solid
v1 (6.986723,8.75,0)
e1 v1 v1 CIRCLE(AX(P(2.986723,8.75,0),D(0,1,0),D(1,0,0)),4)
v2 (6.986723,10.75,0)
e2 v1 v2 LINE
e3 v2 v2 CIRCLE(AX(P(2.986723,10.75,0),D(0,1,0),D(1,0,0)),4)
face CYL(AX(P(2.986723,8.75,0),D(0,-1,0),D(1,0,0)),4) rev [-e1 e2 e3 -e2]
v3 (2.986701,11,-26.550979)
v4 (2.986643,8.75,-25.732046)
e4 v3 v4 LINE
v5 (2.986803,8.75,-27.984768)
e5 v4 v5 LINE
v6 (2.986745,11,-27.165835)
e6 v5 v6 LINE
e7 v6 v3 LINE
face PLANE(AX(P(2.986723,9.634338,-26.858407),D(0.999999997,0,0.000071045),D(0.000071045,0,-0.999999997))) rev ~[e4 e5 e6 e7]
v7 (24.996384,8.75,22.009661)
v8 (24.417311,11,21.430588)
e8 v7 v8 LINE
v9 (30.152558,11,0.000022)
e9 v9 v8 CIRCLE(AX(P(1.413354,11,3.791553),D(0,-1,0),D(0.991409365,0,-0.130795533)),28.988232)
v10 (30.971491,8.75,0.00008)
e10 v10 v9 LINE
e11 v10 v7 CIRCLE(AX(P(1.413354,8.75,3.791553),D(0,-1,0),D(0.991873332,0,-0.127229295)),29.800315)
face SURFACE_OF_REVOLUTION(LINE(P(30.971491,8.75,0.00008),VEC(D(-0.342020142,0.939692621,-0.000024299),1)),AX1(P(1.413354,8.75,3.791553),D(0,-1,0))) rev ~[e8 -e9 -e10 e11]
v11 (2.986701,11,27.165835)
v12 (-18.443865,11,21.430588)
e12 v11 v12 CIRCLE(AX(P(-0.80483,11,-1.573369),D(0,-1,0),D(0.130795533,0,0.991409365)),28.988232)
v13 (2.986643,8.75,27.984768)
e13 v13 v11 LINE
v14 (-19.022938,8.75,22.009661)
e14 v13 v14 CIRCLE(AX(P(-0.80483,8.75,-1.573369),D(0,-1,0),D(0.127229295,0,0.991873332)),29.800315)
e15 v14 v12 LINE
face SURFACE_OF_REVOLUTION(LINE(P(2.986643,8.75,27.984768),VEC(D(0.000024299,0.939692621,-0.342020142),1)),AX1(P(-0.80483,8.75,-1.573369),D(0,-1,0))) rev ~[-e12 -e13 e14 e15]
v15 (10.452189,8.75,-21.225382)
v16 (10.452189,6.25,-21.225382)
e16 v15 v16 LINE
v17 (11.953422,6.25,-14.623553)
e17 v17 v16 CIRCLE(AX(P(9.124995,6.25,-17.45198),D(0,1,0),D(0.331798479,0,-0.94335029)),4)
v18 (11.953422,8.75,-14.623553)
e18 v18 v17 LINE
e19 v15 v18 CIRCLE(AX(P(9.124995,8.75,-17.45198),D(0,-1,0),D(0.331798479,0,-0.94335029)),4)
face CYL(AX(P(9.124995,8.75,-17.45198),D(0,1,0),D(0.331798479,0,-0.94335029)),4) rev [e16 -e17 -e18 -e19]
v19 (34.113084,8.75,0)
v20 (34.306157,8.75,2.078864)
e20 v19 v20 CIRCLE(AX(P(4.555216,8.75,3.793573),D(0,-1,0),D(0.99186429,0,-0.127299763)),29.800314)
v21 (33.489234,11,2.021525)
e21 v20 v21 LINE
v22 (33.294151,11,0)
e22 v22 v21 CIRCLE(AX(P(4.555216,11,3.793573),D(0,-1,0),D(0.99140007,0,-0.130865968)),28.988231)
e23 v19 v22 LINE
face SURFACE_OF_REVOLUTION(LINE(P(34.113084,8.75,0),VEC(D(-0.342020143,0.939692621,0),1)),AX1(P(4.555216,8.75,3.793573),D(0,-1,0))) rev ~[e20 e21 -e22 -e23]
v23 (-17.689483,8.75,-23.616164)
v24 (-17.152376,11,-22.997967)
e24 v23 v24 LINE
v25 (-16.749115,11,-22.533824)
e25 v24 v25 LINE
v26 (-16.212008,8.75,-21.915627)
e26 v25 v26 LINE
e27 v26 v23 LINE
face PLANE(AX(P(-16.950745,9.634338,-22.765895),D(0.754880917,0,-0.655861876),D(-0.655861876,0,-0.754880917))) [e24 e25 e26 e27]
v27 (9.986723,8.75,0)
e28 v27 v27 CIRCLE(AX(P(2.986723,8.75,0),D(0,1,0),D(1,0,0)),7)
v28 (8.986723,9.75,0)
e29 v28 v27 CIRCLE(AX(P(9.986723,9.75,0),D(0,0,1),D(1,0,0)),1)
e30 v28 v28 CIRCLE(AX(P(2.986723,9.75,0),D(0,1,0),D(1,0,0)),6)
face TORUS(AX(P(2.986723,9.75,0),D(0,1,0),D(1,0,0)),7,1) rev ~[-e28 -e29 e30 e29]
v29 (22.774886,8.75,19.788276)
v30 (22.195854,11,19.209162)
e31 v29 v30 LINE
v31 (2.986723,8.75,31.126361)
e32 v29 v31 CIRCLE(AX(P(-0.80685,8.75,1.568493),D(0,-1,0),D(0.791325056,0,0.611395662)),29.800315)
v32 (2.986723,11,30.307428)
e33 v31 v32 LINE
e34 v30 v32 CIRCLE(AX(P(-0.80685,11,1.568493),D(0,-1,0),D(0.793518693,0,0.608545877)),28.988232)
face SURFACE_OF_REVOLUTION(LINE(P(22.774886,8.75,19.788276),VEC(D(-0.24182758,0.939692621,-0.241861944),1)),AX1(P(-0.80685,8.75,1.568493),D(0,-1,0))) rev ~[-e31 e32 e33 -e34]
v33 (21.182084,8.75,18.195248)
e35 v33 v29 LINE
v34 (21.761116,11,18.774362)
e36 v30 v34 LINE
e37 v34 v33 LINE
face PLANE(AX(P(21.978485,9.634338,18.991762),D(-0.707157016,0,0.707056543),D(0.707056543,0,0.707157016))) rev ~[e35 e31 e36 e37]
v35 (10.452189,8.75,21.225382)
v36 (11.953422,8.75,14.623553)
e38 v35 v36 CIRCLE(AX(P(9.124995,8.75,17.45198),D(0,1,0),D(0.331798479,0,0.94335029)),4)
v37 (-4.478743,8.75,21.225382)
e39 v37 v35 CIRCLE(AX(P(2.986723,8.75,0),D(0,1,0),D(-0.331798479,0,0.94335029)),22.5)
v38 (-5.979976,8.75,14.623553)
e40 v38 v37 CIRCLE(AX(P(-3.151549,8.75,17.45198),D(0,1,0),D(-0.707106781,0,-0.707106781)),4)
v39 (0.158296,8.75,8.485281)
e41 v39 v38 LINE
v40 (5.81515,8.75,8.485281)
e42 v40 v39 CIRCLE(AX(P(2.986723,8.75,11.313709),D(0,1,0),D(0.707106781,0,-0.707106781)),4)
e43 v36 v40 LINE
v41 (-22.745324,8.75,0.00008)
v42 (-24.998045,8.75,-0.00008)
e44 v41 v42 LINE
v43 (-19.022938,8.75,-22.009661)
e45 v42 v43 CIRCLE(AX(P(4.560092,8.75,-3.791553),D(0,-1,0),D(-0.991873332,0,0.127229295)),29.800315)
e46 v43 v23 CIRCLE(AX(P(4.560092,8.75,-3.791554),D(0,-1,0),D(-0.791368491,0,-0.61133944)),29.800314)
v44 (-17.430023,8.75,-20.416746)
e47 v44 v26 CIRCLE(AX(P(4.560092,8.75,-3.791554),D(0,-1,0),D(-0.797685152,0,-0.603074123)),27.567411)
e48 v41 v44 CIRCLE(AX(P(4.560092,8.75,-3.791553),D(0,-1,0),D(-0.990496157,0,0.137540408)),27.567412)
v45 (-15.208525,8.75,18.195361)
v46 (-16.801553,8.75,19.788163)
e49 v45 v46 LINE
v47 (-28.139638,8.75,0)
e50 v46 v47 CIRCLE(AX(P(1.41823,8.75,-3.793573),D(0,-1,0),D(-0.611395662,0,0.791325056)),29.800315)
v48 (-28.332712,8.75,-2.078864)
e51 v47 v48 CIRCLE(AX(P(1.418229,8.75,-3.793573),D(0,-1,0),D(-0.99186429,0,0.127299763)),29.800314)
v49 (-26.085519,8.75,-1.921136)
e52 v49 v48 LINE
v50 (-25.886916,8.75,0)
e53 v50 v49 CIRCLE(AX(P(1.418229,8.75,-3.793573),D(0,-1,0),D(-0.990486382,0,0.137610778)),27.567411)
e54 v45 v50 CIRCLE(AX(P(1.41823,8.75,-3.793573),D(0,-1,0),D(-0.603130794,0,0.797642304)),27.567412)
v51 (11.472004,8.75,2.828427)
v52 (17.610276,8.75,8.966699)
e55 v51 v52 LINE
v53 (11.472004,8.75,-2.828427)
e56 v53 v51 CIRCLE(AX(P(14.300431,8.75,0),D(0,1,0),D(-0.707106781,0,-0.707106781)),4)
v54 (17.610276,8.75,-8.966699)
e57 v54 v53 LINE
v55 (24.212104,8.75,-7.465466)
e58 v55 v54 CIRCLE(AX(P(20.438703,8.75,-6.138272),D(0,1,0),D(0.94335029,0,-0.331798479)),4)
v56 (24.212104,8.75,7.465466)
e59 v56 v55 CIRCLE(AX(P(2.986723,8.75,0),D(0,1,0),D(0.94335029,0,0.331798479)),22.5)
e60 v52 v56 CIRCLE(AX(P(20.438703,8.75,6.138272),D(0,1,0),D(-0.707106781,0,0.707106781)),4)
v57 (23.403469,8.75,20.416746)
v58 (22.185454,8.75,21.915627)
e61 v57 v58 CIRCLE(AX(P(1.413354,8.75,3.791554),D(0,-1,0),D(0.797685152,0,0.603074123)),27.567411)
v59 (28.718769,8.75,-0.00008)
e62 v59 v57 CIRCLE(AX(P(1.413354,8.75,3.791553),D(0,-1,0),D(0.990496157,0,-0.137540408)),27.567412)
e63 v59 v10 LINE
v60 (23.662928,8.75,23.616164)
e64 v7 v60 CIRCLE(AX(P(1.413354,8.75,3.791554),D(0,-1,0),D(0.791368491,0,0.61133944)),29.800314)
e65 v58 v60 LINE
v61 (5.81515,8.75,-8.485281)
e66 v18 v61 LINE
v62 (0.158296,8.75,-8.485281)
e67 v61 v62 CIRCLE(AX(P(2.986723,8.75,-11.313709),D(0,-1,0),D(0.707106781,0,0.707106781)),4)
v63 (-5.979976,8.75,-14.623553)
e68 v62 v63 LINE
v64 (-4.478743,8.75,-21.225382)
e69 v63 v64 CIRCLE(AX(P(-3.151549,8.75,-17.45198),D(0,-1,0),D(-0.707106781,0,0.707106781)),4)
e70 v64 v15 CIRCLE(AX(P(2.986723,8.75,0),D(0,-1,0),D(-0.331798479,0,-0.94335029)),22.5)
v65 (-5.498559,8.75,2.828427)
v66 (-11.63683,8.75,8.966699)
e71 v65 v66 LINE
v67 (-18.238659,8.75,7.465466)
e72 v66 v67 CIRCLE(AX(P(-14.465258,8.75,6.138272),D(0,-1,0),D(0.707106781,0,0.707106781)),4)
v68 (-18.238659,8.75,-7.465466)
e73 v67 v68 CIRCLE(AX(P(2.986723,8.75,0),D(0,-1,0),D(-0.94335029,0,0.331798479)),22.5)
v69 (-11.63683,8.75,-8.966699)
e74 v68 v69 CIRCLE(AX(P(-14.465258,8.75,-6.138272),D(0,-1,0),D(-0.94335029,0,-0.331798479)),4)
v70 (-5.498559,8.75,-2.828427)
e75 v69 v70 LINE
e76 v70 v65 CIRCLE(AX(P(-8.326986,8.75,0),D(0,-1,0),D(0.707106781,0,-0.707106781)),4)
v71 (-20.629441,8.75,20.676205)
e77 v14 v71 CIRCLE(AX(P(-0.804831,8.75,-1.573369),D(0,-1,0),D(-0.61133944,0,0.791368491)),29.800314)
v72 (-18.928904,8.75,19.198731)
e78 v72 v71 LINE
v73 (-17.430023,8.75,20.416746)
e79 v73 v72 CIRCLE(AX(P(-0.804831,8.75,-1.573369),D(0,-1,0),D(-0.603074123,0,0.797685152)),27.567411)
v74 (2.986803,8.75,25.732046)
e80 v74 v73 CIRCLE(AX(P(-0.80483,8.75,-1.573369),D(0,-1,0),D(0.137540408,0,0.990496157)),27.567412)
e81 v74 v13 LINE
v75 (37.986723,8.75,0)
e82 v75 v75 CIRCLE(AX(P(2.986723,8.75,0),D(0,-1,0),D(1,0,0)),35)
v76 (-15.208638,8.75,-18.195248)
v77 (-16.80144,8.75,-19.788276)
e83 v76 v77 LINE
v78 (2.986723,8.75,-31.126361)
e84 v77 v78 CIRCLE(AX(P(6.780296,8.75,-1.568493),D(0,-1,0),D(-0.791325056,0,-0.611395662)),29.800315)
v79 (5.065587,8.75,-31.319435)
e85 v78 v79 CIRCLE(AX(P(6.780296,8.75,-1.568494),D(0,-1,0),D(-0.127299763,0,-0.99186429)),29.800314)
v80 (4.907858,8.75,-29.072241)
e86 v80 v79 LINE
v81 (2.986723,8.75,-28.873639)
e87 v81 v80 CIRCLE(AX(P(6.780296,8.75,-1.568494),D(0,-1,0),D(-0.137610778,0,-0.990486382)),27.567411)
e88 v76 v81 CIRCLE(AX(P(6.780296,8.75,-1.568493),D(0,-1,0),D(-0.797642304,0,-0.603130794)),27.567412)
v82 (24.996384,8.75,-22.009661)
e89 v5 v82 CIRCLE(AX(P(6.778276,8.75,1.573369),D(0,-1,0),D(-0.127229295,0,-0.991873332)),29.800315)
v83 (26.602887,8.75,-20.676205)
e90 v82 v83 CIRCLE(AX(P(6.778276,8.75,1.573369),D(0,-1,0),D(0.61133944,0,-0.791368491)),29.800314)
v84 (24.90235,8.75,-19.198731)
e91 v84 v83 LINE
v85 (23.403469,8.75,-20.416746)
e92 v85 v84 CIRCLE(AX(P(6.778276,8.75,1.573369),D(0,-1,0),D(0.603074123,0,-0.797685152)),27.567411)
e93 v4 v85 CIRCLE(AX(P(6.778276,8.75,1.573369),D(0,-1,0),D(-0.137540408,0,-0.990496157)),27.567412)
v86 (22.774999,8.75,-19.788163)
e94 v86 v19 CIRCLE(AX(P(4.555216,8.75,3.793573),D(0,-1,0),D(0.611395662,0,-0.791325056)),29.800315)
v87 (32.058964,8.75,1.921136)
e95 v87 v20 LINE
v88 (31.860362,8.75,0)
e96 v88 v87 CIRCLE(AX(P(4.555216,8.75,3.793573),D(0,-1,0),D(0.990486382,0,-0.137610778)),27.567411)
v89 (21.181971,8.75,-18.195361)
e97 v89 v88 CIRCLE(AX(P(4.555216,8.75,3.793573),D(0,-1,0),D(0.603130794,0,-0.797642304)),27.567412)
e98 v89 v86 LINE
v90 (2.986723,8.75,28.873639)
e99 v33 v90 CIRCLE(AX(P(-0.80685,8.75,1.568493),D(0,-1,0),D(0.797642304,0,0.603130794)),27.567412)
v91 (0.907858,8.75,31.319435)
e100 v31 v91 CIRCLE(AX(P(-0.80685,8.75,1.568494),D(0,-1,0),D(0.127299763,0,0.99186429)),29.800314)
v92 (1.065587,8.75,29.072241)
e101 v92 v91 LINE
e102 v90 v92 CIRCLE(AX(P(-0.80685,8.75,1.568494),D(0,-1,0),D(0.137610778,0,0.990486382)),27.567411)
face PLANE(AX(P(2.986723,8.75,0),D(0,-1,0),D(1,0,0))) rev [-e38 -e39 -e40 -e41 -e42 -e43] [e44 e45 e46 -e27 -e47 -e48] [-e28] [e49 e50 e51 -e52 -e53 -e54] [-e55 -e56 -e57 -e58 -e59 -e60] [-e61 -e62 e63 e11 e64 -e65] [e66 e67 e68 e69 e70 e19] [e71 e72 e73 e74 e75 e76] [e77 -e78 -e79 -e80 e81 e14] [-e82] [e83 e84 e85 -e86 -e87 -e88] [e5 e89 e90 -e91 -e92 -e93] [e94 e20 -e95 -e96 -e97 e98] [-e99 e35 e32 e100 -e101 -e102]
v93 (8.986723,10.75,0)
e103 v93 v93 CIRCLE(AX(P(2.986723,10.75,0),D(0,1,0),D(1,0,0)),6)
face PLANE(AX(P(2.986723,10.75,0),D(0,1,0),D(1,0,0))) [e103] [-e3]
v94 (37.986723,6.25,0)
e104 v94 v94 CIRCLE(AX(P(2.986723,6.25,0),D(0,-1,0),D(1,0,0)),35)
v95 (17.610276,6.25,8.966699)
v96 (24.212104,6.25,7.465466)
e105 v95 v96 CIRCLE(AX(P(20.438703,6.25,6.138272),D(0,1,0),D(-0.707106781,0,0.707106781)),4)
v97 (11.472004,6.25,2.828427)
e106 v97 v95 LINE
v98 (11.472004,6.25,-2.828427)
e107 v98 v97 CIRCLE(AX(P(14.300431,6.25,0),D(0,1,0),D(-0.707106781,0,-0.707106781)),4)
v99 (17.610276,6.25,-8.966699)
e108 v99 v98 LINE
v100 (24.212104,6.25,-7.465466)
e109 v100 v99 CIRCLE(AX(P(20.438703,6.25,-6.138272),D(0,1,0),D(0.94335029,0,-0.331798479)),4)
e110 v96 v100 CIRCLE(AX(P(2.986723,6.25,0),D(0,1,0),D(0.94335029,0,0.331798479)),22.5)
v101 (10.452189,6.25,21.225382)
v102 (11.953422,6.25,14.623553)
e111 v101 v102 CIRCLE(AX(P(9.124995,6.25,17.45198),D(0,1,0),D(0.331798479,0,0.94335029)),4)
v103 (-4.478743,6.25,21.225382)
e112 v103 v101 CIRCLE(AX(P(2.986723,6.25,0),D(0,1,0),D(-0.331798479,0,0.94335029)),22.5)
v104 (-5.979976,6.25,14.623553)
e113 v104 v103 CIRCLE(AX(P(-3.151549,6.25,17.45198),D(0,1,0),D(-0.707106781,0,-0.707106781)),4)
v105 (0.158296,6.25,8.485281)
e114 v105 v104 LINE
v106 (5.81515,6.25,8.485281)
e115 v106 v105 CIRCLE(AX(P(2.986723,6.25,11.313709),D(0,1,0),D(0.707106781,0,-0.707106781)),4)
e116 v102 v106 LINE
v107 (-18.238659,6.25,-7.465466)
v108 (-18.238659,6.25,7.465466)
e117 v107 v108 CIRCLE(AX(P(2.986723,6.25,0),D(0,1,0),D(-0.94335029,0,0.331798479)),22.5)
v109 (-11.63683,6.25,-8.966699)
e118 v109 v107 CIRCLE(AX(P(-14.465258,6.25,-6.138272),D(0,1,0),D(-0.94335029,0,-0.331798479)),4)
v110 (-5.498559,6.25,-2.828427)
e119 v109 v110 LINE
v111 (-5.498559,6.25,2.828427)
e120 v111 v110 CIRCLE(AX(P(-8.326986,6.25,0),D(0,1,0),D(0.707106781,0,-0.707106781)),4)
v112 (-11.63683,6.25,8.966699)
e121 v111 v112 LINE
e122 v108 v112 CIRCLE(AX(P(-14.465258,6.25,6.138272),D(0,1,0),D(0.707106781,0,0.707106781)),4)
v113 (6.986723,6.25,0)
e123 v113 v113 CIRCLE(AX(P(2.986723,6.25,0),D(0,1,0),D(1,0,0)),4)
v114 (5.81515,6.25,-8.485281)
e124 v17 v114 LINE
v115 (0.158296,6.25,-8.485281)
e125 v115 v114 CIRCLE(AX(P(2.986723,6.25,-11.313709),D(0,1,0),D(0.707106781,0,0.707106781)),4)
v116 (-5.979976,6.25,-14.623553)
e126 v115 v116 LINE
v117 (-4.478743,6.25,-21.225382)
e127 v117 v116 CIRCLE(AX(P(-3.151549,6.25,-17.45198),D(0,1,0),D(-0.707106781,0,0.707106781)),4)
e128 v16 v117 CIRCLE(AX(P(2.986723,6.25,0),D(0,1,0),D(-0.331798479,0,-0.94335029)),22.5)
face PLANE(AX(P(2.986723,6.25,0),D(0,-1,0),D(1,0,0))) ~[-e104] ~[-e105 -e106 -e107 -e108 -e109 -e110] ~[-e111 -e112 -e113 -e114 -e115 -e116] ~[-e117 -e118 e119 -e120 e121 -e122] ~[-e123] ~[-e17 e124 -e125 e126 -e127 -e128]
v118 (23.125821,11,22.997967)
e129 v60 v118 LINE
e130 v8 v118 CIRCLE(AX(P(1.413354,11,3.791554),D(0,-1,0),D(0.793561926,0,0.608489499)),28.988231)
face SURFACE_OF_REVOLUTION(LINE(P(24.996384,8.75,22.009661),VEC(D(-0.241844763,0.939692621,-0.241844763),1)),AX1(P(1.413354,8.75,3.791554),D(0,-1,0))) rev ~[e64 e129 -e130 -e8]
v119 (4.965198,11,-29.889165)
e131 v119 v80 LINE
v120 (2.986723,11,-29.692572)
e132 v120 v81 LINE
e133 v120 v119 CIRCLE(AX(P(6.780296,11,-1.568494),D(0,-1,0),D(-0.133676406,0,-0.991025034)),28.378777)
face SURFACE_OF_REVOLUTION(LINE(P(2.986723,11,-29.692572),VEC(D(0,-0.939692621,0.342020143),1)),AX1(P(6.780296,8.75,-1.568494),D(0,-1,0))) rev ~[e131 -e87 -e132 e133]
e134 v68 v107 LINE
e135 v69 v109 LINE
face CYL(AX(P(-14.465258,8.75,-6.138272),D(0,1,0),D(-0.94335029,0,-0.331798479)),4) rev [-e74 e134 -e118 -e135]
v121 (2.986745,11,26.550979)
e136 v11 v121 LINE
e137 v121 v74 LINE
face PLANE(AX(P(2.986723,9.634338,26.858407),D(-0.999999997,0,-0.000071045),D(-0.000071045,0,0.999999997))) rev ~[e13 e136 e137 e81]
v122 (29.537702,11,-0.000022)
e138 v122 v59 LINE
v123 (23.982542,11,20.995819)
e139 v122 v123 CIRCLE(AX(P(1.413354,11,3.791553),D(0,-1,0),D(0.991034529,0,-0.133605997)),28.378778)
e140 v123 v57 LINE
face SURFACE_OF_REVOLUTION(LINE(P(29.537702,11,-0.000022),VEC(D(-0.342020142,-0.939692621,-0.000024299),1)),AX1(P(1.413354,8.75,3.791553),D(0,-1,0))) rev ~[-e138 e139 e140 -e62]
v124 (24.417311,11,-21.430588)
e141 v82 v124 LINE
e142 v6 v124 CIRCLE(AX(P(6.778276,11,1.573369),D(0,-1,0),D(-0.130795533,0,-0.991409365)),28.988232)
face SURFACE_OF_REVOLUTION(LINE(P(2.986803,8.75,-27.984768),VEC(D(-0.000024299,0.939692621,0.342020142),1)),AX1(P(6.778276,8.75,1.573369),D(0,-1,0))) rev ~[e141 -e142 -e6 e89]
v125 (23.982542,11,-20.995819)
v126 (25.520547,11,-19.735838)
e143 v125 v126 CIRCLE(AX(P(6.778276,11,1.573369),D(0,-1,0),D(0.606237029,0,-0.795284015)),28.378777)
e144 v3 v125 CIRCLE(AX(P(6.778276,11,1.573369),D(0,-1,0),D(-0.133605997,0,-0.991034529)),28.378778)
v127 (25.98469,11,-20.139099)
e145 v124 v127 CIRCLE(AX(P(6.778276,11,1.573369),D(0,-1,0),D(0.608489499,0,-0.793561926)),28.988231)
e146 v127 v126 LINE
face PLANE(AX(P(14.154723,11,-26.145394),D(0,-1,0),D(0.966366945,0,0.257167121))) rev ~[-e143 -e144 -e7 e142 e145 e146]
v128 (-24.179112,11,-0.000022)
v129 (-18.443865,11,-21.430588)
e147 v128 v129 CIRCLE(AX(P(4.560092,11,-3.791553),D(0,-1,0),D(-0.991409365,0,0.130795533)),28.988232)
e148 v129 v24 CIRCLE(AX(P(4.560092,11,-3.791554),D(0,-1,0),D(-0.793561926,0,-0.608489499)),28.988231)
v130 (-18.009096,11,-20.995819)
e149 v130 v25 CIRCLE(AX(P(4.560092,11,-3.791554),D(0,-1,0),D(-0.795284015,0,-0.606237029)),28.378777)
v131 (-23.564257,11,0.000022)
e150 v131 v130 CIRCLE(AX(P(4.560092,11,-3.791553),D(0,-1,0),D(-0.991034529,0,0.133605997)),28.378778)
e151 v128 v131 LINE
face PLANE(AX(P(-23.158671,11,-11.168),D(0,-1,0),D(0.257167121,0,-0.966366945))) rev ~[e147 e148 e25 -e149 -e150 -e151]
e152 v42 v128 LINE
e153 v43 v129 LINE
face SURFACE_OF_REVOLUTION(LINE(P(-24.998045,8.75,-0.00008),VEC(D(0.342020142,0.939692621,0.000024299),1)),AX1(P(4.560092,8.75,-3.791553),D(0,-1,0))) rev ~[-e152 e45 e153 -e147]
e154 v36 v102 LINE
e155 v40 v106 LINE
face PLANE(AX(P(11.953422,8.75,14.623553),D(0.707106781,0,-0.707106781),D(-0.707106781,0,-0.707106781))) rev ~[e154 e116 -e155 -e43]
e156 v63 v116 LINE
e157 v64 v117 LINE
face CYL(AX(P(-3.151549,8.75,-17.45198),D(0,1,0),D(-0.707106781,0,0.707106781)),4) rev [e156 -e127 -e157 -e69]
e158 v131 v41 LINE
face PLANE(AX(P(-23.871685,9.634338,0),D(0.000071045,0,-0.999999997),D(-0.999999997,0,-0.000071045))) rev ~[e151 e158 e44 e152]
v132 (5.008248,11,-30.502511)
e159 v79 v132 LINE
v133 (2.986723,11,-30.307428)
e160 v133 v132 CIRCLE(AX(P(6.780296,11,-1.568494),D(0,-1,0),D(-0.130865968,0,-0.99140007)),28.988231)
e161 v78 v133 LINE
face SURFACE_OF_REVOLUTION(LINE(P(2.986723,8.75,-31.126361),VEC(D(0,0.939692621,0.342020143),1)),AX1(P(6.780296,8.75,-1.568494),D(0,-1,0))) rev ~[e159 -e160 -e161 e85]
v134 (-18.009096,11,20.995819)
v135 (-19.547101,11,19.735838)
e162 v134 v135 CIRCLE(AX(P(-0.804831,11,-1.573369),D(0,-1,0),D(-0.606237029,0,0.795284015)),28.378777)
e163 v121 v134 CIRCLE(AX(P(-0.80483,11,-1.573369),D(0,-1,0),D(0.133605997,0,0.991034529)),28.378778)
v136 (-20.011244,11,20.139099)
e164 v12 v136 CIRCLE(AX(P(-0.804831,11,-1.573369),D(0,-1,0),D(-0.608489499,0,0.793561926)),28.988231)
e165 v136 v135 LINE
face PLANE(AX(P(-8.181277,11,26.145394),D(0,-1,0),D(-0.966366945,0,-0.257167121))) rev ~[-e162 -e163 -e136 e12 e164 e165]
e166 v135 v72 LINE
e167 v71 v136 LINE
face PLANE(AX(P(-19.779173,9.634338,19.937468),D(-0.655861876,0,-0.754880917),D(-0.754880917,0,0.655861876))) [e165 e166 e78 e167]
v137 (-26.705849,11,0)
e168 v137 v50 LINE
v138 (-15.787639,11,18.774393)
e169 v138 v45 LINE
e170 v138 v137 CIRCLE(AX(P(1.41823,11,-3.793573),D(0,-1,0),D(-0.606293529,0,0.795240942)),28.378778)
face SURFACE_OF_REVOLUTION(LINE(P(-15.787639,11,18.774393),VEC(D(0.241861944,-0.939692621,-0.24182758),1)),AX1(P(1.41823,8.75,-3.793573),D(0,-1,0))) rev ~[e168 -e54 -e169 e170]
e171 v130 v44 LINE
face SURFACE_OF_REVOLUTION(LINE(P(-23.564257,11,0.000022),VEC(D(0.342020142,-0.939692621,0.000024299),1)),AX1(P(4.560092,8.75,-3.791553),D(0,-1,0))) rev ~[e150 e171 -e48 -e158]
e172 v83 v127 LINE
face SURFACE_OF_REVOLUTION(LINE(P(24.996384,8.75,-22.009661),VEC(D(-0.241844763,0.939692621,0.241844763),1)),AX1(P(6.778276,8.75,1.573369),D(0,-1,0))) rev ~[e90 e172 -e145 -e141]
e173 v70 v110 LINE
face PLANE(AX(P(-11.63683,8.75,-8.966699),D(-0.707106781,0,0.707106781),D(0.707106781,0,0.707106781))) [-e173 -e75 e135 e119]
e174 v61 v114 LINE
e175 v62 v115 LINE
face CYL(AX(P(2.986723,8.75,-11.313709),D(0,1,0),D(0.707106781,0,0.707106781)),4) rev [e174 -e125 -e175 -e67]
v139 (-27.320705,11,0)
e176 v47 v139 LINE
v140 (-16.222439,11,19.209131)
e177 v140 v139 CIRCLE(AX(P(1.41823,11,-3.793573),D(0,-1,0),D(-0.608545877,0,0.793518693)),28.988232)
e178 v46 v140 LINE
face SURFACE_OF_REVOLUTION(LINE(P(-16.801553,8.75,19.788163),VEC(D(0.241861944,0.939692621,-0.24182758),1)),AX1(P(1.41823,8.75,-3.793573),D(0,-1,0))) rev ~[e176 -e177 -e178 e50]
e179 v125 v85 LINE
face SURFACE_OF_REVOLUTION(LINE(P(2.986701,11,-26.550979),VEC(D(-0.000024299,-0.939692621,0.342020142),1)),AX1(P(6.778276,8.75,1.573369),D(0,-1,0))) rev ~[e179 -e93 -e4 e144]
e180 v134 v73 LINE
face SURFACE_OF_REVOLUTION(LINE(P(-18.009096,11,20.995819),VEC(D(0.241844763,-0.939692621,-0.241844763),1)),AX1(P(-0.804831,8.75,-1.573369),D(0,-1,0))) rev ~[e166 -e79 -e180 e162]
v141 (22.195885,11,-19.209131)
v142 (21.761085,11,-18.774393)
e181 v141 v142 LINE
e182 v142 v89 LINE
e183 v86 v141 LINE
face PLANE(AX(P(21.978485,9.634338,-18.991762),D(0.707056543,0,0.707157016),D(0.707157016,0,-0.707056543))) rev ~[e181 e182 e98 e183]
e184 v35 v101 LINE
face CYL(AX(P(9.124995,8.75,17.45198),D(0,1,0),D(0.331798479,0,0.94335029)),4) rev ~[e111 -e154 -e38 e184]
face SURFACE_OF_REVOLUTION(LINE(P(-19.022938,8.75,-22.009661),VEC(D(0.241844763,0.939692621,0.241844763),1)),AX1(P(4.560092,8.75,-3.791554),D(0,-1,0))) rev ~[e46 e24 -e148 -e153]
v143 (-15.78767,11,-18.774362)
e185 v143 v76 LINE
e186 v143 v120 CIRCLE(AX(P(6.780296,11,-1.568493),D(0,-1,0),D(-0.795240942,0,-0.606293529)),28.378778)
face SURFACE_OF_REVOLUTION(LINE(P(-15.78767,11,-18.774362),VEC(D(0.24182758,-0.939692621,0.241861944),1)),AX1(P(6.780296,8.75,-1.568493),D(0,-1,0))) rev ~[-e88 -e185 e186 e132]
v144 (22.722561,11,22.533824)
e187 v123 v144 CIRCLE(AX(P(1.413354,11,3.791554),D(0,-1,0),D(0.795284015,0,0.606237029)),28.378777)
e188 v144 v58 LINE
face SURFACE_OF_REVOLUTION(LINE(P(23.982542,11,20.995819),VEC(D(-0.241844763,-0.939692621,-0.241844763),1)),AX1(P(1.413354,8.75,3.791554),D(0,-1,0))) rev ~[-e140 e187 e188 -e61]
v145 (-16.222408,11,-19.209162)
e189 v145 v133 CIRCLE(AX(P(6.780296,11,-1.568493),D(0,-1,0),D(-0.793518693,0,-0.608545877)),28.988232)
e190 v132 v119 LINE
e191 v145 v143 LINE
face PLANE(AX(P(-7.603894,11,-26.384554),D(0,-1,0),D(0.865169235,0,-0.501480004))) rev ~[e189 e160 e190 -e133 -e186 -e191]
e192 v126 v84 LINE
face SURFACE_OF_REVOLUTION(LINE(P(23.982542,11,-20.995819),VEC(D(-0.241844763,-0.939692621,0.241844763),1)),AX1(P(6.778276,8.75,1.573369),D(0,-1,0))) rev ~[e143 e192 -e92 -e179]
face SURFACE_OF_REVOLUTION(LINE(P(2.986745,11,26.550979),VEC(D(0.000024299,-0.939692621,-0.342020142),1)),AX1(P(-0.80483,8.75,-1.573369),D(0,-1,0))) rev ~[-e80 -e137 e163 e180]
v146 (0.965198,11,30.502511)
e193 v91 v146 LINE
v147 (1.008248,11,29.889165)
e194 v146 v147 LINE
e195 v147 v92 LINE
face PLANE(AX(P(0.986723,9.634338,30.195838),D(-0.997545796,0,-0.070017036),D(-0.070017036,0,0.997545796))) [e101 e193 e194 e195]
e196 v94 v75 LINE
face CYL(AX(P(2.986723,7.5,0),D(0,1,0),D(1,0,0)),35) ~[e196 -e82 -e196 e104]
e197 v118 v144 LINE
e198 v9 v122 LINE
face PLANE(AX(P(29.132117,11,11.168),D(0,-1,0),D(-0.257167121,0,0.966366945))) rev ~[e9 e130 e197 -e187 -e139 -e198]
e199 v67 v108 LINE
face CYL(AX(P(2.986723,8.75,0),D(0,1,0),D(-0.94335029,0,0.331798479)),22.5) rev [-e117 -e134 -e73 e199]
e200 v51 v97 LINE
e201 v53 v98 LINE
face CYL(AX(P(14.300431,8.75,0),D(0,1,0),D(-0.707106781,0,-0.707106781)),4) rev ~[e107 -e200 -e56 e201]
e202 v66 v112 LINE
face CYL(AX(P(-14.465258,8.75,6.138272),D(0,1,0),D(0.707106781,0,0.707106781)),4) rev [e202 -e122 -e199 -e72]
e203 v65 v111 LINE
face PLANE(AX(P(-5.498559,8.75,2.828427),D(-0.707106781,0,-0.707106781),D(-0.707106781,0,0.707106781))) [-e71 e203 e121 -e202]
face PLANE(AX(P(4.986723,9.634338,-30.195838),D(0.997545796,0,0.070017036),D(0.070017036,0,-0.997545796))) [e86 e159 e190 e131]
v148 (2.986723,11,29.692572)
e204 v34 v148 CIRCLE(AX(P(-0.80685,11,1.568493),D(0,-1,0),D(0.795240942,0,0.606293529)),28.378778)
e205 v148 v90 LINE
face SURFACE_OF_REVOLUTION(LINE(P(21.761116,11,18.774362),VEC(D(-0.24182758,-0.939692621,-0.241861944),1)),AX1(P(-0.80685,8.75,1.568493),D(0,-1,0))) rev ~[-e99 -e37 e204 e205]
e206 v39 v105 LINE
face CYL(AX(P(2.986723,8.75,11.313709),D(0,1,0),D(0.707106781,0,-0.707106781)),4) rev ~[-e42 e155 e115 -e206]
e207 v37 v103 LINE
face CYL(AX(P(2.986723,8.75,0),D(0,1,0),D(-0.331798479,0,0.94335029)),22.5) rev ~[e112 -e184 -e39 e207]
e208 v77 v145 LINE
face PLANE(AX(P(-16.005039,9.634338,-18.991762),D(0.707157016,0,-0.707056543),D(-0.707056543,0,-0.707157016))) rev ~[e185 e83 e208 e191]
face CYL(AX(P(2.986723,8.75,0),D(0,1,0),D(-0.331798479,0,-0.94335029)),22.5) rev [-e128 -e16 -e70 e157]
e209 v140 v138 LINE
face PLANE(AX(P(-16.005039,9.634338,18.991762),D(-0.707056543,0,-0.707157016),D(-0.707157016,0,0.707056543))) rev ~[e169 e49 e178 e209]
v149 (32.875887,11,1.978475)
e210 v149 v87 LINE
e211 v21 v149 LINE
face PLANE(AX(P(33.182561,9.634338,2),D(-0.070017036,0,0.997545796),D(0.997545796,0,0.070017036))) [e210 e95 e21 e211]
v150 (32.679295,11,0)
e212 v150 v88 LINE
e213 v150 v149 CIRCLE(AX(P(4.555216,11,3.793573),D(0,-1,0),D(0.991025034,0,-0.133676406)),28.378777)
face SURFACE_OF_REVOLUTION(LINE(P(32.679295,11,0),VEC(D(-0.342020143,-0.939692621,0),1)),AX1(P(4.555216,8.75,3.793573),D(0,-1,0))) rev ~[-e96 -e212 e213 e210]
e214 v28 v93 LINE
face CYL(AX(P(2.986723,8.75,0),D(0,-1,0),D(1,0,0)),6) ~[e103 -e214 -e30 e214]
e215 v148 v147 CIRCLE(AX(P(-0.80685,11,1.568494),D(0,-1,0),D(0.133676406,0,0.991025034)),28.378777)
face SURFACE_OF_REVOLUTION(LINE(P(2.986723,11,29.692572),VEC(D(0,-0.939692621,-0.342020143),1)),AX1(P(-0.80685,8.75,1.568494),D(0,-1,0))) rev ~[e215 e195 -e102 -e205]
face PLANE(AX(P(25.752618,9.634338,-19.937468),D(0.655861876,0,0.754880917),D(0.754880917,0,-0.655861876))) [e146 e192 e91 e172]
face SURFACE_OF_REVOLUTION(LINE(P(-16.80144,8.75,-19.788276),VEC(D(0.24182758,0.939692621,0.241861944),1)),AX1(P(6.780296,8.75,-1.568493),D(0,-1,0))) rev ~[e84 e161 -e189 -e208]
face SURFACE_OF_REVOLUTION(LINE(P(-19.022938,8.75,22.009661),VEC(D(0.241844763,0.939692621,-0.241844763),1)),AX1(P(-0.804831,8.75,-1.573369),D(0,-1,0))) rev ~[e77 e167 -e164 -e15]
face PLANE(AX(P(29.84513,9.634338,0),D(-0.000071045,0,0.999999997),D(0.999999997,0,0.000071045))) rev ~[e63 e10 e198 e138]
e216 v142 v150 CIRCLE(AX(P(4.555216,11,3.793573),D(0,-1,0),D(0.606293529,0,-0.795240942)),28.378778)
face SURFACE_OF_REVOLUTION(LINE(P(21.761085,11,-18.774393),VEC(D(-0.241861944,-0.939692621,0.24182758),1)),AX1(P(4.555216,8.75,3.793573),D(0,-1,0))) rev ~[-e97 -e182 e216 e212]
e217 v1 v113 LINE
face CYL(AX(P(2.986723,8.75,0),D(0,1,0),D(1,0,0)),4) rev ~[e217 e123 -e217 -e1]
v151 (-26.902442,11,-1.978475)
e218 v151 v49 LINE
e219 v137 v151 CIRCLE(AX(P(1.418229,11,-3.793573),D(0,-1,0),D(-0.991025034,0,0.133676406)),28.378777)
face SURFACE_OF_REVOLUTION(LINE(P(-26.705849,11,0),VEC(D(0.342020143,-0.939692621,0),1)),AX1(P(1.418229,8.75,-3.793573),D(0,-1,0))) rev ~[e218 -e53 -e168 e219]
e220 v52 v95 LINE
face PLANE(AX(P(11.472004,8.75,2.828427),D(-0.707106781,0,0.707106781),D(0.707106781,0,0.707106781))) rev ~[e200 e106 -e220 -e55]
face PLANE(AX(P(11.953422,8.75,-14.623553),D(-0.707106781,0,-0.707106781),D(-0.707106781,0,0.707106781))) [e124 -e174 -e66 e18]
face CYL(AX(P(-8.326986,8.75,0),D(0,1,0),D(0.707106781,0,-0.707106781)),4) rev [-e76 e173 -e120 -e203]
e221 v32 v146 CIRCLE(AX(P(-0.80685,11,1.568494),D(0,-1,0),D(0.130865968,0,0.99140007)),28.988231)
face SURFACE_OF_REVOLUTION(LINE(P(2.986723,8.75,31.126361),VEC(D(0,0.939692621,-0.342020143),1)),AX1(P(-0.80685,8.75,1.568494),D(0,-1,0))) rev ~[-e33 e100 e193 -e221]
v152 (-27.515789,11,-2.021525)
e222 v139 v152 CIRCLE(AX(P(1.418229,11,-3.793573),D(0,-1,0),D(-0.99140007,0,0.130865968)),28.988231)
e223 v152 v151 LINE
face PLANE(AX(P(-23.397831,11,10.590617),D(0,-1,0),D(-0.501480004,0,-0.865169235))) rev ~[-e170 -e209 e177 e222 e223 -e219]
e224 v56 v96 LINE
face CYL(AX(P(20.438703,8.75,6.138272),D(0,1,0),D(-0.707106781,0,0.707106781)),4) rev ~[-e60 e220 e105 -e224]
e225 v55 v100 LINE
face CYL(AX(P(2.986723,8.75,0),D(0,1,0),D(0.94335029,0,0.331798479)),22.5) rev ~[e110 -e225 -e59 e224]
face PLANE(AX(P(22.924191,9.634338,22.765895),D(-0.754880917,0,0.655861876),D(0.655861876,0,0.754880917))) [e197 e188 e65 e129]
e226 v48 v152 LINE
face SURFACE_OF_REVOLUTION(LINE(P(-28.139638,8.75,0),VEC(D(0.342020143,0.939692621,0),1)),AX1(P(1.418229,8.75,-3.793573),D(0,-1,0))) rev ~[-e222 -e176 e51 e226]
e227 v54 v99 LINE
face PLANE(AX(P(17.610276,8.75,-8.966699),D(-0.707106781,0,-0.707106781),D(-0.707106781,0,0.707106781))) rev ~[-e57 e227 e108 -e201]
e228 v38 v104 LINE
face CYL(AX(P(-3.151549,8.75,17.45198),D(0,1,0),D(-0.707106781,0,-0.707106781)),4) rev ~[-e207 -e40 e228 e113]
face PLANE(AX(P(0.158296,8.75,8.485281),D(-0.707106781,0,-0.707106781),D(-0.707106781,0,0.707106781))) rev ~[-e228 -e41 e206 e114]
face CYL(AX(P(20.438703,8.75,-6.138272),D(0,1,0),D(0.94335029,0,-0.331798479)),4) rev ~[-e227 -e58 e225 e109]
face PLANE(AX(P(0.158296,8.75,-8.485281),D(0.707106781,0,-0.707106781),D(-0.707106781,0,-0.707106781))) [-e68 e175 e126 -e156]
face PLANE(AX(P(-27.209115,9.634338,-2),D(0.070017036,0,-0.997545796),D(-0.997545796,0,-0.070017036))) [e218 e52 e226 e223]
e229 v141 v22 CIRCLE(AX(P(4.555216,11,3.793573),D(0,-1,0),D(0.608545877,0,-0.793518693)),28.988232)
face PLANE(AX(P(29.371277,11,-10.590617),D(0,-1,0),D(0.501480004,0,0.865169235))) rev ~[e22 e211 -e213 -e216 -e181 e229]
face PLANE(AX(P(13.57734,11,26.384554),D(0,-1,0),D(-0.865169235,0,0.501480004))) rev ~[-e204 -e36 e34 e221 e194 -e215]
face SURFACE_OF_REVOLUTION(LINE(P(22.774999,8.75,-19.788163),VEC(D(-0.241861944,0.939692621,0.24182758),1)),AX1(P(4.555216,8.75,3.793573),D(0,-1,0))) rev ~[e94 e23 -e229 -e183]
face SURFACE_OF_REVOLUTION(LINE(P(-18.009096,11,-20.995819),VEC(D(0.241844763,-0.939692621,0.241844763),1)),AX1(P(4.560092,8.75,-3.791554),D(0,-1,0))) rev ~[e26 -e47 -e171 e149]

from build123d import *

# Parameters (mm, degrees)
SKETCH2_W           = 35
SKETCH2_H           = 2.5
SKETCH3_R           = 4
CUT_EXTRUDE1_DEPTH  = 3.5
CIRPATTERN1_COUNT   = 8
SKETCH11_R          = 6
SKETCH11_R_2        = 4
BOSS_EXTRUDE1_DEPTH = 2
FILLET1_R           = 1


with BuildPart() as part:
    # Sketch2 → Revolve1 (revolve)
    with BuildSketch(Plane.XY):
        with Locations((20.486722825, 7.5)):
            Rectangle(SKETCH2_W, SKETCH2_H)
    revolve(axis=Axis((2.986722825, 8.75, 0), (0, -1, 0)))

    # Sketch3 → Cut-Extrude1 (cut, through all)
    with BuildSketch(Plane(origin=(0, 8.75, 0), x_dir=(1, 0, 0), z_dir=(0, 1, 0))):
        with Locations((2.986722825, 0)):
            Circle(SKETCH3_R)
        with BuildLine():
            Line((11.953421812, 14.623553237), (5.81514995, 8.485281374))
            ThreePointArc((5.81514995, 8.485281374), (2.986722825, 7.313708499), (0.1582957, 8.485281374))
            Line((0.1582957, 8.485281374), (-5.979976162, 14.623553237))
            ThreePointArc((-5.979976162, 14.623553237), (-7.051976031, 18.338924141), (-4.478742954, 21.225381521))
            ThreePointArc((-4.478742954, 21.225381521), (2.986722825, 22.5), (10.452188604, 21.225381521))
            ThreePointArc((10.452188604, 21.225381521), (13.025421681, 18.338924141), (11.953421812, 14.623553237))
        make_face()
        with BuildLine():
            Line((11.953421812, -14.623553237), (5.81514995, -8.485281374))
            ThreePointArc((5.81514995, -8.485281374), (2.986722825, -7.313708499), (0.1582957, -8.485281374))
            Line((0.1582957, -8.485281374), (-5.979976162, -14.623553237))
            ThreePointArc((-5.979976162, -14.623553237), (-7.051976031, -18.338924141), (-4.478742954, -21.225381521))
            ThreePointArc((-4.478742954, -21.225381521), (2.986722825, -22.5), (10.452188604, -21.225381521))
            ThreePointArc((10.452188604, -21.225381521), (13.025421681, -18.338924141), (11.953421812, -14.623553237))
        make_face()
        with BuildLine():
            Line((-11.636830412, 8.966698987), (-5.498558549, 2.828427125))
            ThreePointArc((-5.498558549, 2.828427125), (-4.326985674, 0), (-5.498558549, -2.828427125))
            Line((-5.498558549, -2.828427125), (-11.636830412, -8.966698987))
            ThreePointArc((-11.636830412, -8.966698987), (-15.352201316, -10.038698856), (-18.238658696, -7.465465779))
            ThreePointArc((-18.238658696, -7.465465779), (-19.513277175, 0), (-18.238658696, 7.465465779))
            ThreePointArc((-18.238658696, 7.465465779), (-15.352201316, 10.038698856), (-11.636830412, 8.966698987))
        make_face()
        with BuildLine():
            Line((17.610276062, 8.966698987), (11.472004199, 2.828427125))
            ThreePointArc((11.472004199, 2.828427125), (10.300431324, 0), (11.472004199, -2.828427125))
            Line((11.472004199, -2.828427125), (17.610276062, -8.966698987))
            ThreePointArc((17.610276062, -8.966698987), (21.325646966, -10.038698856), (24.212104346, -7.465465779))
            ThreePointArc((24.212104346, -7.465465779), (25.486722825, 0), (24.212104346, 7.465465779))
            ThreePointArc((24.212104346, 7.465465779), (21.325646966, 10.038698856), (17.610276062, 8.966698987))
        make_face()
    extrude(amount=-CUT_EXTRUDE1_DEPTH, mode=Mode.SUBTRACT)

    # Sweep2: sweep along a path in Sketch9
    with BuildLine(Plane(origin=(0, 8.75, 0), x_dir=(1, 0, 0), z_dir=(0, 1, 0))) as sweep2_path:
        ThreePointArc((21.978484794, 18.991761969), (29.371276645, 10.5906167), (32.986722825, 0))
        ThreePointArc((32.986722825, 0), (33.102162214, -0.998284421), (33.182560833, -2))
    # Sketch1 → Sweep2 (sweep)
    with BuildSketch(Plane.XY):
        Polygon((34.11308378, 8.75), (33.294150753, 11), (32.679294897, 11), (31.86036187, 8.75), align=None)
    sweep2 = sweep(path=sweep2_path.line)

    # CirPattern1: Sweep2 ×8 about axis
    cirpattern1_axis = Axis((2.986722825, 6.25, 0), (0, 1, 0))
    for i in range(1, CIRPATTERN1_COUNT):
        add(sweep2.rotate(cirpattern1_axis, i * 360 / CIRPATTERN1_COUNT))

    # Sketch11 → Boss-Extrude1 (add)
    with BuildSketch(Plane(origin=(0, 8.75, 0), x_dir=(1, 0, 0), z_dir=(0, 1, 0))):
        with Locations((2.986722825, 0)):
            Circle(SKETCH11_R)
        with Locations((2.986722825, 0)):
            Circle(SKETCH11_R_2, mode=Mode.SUBTRACT)
    extrude(amount=BOSS_EXTRUDE1_DEPTH)

    # Fillet1
    fillet1_edges = [part.edges().sort_by_distance(p)[0] for p in [
        (-3.013277175, 8.75, 0),
    ]]
    fillet(fillet1_edges, radius=FILLET1_R)


solid = part.part
